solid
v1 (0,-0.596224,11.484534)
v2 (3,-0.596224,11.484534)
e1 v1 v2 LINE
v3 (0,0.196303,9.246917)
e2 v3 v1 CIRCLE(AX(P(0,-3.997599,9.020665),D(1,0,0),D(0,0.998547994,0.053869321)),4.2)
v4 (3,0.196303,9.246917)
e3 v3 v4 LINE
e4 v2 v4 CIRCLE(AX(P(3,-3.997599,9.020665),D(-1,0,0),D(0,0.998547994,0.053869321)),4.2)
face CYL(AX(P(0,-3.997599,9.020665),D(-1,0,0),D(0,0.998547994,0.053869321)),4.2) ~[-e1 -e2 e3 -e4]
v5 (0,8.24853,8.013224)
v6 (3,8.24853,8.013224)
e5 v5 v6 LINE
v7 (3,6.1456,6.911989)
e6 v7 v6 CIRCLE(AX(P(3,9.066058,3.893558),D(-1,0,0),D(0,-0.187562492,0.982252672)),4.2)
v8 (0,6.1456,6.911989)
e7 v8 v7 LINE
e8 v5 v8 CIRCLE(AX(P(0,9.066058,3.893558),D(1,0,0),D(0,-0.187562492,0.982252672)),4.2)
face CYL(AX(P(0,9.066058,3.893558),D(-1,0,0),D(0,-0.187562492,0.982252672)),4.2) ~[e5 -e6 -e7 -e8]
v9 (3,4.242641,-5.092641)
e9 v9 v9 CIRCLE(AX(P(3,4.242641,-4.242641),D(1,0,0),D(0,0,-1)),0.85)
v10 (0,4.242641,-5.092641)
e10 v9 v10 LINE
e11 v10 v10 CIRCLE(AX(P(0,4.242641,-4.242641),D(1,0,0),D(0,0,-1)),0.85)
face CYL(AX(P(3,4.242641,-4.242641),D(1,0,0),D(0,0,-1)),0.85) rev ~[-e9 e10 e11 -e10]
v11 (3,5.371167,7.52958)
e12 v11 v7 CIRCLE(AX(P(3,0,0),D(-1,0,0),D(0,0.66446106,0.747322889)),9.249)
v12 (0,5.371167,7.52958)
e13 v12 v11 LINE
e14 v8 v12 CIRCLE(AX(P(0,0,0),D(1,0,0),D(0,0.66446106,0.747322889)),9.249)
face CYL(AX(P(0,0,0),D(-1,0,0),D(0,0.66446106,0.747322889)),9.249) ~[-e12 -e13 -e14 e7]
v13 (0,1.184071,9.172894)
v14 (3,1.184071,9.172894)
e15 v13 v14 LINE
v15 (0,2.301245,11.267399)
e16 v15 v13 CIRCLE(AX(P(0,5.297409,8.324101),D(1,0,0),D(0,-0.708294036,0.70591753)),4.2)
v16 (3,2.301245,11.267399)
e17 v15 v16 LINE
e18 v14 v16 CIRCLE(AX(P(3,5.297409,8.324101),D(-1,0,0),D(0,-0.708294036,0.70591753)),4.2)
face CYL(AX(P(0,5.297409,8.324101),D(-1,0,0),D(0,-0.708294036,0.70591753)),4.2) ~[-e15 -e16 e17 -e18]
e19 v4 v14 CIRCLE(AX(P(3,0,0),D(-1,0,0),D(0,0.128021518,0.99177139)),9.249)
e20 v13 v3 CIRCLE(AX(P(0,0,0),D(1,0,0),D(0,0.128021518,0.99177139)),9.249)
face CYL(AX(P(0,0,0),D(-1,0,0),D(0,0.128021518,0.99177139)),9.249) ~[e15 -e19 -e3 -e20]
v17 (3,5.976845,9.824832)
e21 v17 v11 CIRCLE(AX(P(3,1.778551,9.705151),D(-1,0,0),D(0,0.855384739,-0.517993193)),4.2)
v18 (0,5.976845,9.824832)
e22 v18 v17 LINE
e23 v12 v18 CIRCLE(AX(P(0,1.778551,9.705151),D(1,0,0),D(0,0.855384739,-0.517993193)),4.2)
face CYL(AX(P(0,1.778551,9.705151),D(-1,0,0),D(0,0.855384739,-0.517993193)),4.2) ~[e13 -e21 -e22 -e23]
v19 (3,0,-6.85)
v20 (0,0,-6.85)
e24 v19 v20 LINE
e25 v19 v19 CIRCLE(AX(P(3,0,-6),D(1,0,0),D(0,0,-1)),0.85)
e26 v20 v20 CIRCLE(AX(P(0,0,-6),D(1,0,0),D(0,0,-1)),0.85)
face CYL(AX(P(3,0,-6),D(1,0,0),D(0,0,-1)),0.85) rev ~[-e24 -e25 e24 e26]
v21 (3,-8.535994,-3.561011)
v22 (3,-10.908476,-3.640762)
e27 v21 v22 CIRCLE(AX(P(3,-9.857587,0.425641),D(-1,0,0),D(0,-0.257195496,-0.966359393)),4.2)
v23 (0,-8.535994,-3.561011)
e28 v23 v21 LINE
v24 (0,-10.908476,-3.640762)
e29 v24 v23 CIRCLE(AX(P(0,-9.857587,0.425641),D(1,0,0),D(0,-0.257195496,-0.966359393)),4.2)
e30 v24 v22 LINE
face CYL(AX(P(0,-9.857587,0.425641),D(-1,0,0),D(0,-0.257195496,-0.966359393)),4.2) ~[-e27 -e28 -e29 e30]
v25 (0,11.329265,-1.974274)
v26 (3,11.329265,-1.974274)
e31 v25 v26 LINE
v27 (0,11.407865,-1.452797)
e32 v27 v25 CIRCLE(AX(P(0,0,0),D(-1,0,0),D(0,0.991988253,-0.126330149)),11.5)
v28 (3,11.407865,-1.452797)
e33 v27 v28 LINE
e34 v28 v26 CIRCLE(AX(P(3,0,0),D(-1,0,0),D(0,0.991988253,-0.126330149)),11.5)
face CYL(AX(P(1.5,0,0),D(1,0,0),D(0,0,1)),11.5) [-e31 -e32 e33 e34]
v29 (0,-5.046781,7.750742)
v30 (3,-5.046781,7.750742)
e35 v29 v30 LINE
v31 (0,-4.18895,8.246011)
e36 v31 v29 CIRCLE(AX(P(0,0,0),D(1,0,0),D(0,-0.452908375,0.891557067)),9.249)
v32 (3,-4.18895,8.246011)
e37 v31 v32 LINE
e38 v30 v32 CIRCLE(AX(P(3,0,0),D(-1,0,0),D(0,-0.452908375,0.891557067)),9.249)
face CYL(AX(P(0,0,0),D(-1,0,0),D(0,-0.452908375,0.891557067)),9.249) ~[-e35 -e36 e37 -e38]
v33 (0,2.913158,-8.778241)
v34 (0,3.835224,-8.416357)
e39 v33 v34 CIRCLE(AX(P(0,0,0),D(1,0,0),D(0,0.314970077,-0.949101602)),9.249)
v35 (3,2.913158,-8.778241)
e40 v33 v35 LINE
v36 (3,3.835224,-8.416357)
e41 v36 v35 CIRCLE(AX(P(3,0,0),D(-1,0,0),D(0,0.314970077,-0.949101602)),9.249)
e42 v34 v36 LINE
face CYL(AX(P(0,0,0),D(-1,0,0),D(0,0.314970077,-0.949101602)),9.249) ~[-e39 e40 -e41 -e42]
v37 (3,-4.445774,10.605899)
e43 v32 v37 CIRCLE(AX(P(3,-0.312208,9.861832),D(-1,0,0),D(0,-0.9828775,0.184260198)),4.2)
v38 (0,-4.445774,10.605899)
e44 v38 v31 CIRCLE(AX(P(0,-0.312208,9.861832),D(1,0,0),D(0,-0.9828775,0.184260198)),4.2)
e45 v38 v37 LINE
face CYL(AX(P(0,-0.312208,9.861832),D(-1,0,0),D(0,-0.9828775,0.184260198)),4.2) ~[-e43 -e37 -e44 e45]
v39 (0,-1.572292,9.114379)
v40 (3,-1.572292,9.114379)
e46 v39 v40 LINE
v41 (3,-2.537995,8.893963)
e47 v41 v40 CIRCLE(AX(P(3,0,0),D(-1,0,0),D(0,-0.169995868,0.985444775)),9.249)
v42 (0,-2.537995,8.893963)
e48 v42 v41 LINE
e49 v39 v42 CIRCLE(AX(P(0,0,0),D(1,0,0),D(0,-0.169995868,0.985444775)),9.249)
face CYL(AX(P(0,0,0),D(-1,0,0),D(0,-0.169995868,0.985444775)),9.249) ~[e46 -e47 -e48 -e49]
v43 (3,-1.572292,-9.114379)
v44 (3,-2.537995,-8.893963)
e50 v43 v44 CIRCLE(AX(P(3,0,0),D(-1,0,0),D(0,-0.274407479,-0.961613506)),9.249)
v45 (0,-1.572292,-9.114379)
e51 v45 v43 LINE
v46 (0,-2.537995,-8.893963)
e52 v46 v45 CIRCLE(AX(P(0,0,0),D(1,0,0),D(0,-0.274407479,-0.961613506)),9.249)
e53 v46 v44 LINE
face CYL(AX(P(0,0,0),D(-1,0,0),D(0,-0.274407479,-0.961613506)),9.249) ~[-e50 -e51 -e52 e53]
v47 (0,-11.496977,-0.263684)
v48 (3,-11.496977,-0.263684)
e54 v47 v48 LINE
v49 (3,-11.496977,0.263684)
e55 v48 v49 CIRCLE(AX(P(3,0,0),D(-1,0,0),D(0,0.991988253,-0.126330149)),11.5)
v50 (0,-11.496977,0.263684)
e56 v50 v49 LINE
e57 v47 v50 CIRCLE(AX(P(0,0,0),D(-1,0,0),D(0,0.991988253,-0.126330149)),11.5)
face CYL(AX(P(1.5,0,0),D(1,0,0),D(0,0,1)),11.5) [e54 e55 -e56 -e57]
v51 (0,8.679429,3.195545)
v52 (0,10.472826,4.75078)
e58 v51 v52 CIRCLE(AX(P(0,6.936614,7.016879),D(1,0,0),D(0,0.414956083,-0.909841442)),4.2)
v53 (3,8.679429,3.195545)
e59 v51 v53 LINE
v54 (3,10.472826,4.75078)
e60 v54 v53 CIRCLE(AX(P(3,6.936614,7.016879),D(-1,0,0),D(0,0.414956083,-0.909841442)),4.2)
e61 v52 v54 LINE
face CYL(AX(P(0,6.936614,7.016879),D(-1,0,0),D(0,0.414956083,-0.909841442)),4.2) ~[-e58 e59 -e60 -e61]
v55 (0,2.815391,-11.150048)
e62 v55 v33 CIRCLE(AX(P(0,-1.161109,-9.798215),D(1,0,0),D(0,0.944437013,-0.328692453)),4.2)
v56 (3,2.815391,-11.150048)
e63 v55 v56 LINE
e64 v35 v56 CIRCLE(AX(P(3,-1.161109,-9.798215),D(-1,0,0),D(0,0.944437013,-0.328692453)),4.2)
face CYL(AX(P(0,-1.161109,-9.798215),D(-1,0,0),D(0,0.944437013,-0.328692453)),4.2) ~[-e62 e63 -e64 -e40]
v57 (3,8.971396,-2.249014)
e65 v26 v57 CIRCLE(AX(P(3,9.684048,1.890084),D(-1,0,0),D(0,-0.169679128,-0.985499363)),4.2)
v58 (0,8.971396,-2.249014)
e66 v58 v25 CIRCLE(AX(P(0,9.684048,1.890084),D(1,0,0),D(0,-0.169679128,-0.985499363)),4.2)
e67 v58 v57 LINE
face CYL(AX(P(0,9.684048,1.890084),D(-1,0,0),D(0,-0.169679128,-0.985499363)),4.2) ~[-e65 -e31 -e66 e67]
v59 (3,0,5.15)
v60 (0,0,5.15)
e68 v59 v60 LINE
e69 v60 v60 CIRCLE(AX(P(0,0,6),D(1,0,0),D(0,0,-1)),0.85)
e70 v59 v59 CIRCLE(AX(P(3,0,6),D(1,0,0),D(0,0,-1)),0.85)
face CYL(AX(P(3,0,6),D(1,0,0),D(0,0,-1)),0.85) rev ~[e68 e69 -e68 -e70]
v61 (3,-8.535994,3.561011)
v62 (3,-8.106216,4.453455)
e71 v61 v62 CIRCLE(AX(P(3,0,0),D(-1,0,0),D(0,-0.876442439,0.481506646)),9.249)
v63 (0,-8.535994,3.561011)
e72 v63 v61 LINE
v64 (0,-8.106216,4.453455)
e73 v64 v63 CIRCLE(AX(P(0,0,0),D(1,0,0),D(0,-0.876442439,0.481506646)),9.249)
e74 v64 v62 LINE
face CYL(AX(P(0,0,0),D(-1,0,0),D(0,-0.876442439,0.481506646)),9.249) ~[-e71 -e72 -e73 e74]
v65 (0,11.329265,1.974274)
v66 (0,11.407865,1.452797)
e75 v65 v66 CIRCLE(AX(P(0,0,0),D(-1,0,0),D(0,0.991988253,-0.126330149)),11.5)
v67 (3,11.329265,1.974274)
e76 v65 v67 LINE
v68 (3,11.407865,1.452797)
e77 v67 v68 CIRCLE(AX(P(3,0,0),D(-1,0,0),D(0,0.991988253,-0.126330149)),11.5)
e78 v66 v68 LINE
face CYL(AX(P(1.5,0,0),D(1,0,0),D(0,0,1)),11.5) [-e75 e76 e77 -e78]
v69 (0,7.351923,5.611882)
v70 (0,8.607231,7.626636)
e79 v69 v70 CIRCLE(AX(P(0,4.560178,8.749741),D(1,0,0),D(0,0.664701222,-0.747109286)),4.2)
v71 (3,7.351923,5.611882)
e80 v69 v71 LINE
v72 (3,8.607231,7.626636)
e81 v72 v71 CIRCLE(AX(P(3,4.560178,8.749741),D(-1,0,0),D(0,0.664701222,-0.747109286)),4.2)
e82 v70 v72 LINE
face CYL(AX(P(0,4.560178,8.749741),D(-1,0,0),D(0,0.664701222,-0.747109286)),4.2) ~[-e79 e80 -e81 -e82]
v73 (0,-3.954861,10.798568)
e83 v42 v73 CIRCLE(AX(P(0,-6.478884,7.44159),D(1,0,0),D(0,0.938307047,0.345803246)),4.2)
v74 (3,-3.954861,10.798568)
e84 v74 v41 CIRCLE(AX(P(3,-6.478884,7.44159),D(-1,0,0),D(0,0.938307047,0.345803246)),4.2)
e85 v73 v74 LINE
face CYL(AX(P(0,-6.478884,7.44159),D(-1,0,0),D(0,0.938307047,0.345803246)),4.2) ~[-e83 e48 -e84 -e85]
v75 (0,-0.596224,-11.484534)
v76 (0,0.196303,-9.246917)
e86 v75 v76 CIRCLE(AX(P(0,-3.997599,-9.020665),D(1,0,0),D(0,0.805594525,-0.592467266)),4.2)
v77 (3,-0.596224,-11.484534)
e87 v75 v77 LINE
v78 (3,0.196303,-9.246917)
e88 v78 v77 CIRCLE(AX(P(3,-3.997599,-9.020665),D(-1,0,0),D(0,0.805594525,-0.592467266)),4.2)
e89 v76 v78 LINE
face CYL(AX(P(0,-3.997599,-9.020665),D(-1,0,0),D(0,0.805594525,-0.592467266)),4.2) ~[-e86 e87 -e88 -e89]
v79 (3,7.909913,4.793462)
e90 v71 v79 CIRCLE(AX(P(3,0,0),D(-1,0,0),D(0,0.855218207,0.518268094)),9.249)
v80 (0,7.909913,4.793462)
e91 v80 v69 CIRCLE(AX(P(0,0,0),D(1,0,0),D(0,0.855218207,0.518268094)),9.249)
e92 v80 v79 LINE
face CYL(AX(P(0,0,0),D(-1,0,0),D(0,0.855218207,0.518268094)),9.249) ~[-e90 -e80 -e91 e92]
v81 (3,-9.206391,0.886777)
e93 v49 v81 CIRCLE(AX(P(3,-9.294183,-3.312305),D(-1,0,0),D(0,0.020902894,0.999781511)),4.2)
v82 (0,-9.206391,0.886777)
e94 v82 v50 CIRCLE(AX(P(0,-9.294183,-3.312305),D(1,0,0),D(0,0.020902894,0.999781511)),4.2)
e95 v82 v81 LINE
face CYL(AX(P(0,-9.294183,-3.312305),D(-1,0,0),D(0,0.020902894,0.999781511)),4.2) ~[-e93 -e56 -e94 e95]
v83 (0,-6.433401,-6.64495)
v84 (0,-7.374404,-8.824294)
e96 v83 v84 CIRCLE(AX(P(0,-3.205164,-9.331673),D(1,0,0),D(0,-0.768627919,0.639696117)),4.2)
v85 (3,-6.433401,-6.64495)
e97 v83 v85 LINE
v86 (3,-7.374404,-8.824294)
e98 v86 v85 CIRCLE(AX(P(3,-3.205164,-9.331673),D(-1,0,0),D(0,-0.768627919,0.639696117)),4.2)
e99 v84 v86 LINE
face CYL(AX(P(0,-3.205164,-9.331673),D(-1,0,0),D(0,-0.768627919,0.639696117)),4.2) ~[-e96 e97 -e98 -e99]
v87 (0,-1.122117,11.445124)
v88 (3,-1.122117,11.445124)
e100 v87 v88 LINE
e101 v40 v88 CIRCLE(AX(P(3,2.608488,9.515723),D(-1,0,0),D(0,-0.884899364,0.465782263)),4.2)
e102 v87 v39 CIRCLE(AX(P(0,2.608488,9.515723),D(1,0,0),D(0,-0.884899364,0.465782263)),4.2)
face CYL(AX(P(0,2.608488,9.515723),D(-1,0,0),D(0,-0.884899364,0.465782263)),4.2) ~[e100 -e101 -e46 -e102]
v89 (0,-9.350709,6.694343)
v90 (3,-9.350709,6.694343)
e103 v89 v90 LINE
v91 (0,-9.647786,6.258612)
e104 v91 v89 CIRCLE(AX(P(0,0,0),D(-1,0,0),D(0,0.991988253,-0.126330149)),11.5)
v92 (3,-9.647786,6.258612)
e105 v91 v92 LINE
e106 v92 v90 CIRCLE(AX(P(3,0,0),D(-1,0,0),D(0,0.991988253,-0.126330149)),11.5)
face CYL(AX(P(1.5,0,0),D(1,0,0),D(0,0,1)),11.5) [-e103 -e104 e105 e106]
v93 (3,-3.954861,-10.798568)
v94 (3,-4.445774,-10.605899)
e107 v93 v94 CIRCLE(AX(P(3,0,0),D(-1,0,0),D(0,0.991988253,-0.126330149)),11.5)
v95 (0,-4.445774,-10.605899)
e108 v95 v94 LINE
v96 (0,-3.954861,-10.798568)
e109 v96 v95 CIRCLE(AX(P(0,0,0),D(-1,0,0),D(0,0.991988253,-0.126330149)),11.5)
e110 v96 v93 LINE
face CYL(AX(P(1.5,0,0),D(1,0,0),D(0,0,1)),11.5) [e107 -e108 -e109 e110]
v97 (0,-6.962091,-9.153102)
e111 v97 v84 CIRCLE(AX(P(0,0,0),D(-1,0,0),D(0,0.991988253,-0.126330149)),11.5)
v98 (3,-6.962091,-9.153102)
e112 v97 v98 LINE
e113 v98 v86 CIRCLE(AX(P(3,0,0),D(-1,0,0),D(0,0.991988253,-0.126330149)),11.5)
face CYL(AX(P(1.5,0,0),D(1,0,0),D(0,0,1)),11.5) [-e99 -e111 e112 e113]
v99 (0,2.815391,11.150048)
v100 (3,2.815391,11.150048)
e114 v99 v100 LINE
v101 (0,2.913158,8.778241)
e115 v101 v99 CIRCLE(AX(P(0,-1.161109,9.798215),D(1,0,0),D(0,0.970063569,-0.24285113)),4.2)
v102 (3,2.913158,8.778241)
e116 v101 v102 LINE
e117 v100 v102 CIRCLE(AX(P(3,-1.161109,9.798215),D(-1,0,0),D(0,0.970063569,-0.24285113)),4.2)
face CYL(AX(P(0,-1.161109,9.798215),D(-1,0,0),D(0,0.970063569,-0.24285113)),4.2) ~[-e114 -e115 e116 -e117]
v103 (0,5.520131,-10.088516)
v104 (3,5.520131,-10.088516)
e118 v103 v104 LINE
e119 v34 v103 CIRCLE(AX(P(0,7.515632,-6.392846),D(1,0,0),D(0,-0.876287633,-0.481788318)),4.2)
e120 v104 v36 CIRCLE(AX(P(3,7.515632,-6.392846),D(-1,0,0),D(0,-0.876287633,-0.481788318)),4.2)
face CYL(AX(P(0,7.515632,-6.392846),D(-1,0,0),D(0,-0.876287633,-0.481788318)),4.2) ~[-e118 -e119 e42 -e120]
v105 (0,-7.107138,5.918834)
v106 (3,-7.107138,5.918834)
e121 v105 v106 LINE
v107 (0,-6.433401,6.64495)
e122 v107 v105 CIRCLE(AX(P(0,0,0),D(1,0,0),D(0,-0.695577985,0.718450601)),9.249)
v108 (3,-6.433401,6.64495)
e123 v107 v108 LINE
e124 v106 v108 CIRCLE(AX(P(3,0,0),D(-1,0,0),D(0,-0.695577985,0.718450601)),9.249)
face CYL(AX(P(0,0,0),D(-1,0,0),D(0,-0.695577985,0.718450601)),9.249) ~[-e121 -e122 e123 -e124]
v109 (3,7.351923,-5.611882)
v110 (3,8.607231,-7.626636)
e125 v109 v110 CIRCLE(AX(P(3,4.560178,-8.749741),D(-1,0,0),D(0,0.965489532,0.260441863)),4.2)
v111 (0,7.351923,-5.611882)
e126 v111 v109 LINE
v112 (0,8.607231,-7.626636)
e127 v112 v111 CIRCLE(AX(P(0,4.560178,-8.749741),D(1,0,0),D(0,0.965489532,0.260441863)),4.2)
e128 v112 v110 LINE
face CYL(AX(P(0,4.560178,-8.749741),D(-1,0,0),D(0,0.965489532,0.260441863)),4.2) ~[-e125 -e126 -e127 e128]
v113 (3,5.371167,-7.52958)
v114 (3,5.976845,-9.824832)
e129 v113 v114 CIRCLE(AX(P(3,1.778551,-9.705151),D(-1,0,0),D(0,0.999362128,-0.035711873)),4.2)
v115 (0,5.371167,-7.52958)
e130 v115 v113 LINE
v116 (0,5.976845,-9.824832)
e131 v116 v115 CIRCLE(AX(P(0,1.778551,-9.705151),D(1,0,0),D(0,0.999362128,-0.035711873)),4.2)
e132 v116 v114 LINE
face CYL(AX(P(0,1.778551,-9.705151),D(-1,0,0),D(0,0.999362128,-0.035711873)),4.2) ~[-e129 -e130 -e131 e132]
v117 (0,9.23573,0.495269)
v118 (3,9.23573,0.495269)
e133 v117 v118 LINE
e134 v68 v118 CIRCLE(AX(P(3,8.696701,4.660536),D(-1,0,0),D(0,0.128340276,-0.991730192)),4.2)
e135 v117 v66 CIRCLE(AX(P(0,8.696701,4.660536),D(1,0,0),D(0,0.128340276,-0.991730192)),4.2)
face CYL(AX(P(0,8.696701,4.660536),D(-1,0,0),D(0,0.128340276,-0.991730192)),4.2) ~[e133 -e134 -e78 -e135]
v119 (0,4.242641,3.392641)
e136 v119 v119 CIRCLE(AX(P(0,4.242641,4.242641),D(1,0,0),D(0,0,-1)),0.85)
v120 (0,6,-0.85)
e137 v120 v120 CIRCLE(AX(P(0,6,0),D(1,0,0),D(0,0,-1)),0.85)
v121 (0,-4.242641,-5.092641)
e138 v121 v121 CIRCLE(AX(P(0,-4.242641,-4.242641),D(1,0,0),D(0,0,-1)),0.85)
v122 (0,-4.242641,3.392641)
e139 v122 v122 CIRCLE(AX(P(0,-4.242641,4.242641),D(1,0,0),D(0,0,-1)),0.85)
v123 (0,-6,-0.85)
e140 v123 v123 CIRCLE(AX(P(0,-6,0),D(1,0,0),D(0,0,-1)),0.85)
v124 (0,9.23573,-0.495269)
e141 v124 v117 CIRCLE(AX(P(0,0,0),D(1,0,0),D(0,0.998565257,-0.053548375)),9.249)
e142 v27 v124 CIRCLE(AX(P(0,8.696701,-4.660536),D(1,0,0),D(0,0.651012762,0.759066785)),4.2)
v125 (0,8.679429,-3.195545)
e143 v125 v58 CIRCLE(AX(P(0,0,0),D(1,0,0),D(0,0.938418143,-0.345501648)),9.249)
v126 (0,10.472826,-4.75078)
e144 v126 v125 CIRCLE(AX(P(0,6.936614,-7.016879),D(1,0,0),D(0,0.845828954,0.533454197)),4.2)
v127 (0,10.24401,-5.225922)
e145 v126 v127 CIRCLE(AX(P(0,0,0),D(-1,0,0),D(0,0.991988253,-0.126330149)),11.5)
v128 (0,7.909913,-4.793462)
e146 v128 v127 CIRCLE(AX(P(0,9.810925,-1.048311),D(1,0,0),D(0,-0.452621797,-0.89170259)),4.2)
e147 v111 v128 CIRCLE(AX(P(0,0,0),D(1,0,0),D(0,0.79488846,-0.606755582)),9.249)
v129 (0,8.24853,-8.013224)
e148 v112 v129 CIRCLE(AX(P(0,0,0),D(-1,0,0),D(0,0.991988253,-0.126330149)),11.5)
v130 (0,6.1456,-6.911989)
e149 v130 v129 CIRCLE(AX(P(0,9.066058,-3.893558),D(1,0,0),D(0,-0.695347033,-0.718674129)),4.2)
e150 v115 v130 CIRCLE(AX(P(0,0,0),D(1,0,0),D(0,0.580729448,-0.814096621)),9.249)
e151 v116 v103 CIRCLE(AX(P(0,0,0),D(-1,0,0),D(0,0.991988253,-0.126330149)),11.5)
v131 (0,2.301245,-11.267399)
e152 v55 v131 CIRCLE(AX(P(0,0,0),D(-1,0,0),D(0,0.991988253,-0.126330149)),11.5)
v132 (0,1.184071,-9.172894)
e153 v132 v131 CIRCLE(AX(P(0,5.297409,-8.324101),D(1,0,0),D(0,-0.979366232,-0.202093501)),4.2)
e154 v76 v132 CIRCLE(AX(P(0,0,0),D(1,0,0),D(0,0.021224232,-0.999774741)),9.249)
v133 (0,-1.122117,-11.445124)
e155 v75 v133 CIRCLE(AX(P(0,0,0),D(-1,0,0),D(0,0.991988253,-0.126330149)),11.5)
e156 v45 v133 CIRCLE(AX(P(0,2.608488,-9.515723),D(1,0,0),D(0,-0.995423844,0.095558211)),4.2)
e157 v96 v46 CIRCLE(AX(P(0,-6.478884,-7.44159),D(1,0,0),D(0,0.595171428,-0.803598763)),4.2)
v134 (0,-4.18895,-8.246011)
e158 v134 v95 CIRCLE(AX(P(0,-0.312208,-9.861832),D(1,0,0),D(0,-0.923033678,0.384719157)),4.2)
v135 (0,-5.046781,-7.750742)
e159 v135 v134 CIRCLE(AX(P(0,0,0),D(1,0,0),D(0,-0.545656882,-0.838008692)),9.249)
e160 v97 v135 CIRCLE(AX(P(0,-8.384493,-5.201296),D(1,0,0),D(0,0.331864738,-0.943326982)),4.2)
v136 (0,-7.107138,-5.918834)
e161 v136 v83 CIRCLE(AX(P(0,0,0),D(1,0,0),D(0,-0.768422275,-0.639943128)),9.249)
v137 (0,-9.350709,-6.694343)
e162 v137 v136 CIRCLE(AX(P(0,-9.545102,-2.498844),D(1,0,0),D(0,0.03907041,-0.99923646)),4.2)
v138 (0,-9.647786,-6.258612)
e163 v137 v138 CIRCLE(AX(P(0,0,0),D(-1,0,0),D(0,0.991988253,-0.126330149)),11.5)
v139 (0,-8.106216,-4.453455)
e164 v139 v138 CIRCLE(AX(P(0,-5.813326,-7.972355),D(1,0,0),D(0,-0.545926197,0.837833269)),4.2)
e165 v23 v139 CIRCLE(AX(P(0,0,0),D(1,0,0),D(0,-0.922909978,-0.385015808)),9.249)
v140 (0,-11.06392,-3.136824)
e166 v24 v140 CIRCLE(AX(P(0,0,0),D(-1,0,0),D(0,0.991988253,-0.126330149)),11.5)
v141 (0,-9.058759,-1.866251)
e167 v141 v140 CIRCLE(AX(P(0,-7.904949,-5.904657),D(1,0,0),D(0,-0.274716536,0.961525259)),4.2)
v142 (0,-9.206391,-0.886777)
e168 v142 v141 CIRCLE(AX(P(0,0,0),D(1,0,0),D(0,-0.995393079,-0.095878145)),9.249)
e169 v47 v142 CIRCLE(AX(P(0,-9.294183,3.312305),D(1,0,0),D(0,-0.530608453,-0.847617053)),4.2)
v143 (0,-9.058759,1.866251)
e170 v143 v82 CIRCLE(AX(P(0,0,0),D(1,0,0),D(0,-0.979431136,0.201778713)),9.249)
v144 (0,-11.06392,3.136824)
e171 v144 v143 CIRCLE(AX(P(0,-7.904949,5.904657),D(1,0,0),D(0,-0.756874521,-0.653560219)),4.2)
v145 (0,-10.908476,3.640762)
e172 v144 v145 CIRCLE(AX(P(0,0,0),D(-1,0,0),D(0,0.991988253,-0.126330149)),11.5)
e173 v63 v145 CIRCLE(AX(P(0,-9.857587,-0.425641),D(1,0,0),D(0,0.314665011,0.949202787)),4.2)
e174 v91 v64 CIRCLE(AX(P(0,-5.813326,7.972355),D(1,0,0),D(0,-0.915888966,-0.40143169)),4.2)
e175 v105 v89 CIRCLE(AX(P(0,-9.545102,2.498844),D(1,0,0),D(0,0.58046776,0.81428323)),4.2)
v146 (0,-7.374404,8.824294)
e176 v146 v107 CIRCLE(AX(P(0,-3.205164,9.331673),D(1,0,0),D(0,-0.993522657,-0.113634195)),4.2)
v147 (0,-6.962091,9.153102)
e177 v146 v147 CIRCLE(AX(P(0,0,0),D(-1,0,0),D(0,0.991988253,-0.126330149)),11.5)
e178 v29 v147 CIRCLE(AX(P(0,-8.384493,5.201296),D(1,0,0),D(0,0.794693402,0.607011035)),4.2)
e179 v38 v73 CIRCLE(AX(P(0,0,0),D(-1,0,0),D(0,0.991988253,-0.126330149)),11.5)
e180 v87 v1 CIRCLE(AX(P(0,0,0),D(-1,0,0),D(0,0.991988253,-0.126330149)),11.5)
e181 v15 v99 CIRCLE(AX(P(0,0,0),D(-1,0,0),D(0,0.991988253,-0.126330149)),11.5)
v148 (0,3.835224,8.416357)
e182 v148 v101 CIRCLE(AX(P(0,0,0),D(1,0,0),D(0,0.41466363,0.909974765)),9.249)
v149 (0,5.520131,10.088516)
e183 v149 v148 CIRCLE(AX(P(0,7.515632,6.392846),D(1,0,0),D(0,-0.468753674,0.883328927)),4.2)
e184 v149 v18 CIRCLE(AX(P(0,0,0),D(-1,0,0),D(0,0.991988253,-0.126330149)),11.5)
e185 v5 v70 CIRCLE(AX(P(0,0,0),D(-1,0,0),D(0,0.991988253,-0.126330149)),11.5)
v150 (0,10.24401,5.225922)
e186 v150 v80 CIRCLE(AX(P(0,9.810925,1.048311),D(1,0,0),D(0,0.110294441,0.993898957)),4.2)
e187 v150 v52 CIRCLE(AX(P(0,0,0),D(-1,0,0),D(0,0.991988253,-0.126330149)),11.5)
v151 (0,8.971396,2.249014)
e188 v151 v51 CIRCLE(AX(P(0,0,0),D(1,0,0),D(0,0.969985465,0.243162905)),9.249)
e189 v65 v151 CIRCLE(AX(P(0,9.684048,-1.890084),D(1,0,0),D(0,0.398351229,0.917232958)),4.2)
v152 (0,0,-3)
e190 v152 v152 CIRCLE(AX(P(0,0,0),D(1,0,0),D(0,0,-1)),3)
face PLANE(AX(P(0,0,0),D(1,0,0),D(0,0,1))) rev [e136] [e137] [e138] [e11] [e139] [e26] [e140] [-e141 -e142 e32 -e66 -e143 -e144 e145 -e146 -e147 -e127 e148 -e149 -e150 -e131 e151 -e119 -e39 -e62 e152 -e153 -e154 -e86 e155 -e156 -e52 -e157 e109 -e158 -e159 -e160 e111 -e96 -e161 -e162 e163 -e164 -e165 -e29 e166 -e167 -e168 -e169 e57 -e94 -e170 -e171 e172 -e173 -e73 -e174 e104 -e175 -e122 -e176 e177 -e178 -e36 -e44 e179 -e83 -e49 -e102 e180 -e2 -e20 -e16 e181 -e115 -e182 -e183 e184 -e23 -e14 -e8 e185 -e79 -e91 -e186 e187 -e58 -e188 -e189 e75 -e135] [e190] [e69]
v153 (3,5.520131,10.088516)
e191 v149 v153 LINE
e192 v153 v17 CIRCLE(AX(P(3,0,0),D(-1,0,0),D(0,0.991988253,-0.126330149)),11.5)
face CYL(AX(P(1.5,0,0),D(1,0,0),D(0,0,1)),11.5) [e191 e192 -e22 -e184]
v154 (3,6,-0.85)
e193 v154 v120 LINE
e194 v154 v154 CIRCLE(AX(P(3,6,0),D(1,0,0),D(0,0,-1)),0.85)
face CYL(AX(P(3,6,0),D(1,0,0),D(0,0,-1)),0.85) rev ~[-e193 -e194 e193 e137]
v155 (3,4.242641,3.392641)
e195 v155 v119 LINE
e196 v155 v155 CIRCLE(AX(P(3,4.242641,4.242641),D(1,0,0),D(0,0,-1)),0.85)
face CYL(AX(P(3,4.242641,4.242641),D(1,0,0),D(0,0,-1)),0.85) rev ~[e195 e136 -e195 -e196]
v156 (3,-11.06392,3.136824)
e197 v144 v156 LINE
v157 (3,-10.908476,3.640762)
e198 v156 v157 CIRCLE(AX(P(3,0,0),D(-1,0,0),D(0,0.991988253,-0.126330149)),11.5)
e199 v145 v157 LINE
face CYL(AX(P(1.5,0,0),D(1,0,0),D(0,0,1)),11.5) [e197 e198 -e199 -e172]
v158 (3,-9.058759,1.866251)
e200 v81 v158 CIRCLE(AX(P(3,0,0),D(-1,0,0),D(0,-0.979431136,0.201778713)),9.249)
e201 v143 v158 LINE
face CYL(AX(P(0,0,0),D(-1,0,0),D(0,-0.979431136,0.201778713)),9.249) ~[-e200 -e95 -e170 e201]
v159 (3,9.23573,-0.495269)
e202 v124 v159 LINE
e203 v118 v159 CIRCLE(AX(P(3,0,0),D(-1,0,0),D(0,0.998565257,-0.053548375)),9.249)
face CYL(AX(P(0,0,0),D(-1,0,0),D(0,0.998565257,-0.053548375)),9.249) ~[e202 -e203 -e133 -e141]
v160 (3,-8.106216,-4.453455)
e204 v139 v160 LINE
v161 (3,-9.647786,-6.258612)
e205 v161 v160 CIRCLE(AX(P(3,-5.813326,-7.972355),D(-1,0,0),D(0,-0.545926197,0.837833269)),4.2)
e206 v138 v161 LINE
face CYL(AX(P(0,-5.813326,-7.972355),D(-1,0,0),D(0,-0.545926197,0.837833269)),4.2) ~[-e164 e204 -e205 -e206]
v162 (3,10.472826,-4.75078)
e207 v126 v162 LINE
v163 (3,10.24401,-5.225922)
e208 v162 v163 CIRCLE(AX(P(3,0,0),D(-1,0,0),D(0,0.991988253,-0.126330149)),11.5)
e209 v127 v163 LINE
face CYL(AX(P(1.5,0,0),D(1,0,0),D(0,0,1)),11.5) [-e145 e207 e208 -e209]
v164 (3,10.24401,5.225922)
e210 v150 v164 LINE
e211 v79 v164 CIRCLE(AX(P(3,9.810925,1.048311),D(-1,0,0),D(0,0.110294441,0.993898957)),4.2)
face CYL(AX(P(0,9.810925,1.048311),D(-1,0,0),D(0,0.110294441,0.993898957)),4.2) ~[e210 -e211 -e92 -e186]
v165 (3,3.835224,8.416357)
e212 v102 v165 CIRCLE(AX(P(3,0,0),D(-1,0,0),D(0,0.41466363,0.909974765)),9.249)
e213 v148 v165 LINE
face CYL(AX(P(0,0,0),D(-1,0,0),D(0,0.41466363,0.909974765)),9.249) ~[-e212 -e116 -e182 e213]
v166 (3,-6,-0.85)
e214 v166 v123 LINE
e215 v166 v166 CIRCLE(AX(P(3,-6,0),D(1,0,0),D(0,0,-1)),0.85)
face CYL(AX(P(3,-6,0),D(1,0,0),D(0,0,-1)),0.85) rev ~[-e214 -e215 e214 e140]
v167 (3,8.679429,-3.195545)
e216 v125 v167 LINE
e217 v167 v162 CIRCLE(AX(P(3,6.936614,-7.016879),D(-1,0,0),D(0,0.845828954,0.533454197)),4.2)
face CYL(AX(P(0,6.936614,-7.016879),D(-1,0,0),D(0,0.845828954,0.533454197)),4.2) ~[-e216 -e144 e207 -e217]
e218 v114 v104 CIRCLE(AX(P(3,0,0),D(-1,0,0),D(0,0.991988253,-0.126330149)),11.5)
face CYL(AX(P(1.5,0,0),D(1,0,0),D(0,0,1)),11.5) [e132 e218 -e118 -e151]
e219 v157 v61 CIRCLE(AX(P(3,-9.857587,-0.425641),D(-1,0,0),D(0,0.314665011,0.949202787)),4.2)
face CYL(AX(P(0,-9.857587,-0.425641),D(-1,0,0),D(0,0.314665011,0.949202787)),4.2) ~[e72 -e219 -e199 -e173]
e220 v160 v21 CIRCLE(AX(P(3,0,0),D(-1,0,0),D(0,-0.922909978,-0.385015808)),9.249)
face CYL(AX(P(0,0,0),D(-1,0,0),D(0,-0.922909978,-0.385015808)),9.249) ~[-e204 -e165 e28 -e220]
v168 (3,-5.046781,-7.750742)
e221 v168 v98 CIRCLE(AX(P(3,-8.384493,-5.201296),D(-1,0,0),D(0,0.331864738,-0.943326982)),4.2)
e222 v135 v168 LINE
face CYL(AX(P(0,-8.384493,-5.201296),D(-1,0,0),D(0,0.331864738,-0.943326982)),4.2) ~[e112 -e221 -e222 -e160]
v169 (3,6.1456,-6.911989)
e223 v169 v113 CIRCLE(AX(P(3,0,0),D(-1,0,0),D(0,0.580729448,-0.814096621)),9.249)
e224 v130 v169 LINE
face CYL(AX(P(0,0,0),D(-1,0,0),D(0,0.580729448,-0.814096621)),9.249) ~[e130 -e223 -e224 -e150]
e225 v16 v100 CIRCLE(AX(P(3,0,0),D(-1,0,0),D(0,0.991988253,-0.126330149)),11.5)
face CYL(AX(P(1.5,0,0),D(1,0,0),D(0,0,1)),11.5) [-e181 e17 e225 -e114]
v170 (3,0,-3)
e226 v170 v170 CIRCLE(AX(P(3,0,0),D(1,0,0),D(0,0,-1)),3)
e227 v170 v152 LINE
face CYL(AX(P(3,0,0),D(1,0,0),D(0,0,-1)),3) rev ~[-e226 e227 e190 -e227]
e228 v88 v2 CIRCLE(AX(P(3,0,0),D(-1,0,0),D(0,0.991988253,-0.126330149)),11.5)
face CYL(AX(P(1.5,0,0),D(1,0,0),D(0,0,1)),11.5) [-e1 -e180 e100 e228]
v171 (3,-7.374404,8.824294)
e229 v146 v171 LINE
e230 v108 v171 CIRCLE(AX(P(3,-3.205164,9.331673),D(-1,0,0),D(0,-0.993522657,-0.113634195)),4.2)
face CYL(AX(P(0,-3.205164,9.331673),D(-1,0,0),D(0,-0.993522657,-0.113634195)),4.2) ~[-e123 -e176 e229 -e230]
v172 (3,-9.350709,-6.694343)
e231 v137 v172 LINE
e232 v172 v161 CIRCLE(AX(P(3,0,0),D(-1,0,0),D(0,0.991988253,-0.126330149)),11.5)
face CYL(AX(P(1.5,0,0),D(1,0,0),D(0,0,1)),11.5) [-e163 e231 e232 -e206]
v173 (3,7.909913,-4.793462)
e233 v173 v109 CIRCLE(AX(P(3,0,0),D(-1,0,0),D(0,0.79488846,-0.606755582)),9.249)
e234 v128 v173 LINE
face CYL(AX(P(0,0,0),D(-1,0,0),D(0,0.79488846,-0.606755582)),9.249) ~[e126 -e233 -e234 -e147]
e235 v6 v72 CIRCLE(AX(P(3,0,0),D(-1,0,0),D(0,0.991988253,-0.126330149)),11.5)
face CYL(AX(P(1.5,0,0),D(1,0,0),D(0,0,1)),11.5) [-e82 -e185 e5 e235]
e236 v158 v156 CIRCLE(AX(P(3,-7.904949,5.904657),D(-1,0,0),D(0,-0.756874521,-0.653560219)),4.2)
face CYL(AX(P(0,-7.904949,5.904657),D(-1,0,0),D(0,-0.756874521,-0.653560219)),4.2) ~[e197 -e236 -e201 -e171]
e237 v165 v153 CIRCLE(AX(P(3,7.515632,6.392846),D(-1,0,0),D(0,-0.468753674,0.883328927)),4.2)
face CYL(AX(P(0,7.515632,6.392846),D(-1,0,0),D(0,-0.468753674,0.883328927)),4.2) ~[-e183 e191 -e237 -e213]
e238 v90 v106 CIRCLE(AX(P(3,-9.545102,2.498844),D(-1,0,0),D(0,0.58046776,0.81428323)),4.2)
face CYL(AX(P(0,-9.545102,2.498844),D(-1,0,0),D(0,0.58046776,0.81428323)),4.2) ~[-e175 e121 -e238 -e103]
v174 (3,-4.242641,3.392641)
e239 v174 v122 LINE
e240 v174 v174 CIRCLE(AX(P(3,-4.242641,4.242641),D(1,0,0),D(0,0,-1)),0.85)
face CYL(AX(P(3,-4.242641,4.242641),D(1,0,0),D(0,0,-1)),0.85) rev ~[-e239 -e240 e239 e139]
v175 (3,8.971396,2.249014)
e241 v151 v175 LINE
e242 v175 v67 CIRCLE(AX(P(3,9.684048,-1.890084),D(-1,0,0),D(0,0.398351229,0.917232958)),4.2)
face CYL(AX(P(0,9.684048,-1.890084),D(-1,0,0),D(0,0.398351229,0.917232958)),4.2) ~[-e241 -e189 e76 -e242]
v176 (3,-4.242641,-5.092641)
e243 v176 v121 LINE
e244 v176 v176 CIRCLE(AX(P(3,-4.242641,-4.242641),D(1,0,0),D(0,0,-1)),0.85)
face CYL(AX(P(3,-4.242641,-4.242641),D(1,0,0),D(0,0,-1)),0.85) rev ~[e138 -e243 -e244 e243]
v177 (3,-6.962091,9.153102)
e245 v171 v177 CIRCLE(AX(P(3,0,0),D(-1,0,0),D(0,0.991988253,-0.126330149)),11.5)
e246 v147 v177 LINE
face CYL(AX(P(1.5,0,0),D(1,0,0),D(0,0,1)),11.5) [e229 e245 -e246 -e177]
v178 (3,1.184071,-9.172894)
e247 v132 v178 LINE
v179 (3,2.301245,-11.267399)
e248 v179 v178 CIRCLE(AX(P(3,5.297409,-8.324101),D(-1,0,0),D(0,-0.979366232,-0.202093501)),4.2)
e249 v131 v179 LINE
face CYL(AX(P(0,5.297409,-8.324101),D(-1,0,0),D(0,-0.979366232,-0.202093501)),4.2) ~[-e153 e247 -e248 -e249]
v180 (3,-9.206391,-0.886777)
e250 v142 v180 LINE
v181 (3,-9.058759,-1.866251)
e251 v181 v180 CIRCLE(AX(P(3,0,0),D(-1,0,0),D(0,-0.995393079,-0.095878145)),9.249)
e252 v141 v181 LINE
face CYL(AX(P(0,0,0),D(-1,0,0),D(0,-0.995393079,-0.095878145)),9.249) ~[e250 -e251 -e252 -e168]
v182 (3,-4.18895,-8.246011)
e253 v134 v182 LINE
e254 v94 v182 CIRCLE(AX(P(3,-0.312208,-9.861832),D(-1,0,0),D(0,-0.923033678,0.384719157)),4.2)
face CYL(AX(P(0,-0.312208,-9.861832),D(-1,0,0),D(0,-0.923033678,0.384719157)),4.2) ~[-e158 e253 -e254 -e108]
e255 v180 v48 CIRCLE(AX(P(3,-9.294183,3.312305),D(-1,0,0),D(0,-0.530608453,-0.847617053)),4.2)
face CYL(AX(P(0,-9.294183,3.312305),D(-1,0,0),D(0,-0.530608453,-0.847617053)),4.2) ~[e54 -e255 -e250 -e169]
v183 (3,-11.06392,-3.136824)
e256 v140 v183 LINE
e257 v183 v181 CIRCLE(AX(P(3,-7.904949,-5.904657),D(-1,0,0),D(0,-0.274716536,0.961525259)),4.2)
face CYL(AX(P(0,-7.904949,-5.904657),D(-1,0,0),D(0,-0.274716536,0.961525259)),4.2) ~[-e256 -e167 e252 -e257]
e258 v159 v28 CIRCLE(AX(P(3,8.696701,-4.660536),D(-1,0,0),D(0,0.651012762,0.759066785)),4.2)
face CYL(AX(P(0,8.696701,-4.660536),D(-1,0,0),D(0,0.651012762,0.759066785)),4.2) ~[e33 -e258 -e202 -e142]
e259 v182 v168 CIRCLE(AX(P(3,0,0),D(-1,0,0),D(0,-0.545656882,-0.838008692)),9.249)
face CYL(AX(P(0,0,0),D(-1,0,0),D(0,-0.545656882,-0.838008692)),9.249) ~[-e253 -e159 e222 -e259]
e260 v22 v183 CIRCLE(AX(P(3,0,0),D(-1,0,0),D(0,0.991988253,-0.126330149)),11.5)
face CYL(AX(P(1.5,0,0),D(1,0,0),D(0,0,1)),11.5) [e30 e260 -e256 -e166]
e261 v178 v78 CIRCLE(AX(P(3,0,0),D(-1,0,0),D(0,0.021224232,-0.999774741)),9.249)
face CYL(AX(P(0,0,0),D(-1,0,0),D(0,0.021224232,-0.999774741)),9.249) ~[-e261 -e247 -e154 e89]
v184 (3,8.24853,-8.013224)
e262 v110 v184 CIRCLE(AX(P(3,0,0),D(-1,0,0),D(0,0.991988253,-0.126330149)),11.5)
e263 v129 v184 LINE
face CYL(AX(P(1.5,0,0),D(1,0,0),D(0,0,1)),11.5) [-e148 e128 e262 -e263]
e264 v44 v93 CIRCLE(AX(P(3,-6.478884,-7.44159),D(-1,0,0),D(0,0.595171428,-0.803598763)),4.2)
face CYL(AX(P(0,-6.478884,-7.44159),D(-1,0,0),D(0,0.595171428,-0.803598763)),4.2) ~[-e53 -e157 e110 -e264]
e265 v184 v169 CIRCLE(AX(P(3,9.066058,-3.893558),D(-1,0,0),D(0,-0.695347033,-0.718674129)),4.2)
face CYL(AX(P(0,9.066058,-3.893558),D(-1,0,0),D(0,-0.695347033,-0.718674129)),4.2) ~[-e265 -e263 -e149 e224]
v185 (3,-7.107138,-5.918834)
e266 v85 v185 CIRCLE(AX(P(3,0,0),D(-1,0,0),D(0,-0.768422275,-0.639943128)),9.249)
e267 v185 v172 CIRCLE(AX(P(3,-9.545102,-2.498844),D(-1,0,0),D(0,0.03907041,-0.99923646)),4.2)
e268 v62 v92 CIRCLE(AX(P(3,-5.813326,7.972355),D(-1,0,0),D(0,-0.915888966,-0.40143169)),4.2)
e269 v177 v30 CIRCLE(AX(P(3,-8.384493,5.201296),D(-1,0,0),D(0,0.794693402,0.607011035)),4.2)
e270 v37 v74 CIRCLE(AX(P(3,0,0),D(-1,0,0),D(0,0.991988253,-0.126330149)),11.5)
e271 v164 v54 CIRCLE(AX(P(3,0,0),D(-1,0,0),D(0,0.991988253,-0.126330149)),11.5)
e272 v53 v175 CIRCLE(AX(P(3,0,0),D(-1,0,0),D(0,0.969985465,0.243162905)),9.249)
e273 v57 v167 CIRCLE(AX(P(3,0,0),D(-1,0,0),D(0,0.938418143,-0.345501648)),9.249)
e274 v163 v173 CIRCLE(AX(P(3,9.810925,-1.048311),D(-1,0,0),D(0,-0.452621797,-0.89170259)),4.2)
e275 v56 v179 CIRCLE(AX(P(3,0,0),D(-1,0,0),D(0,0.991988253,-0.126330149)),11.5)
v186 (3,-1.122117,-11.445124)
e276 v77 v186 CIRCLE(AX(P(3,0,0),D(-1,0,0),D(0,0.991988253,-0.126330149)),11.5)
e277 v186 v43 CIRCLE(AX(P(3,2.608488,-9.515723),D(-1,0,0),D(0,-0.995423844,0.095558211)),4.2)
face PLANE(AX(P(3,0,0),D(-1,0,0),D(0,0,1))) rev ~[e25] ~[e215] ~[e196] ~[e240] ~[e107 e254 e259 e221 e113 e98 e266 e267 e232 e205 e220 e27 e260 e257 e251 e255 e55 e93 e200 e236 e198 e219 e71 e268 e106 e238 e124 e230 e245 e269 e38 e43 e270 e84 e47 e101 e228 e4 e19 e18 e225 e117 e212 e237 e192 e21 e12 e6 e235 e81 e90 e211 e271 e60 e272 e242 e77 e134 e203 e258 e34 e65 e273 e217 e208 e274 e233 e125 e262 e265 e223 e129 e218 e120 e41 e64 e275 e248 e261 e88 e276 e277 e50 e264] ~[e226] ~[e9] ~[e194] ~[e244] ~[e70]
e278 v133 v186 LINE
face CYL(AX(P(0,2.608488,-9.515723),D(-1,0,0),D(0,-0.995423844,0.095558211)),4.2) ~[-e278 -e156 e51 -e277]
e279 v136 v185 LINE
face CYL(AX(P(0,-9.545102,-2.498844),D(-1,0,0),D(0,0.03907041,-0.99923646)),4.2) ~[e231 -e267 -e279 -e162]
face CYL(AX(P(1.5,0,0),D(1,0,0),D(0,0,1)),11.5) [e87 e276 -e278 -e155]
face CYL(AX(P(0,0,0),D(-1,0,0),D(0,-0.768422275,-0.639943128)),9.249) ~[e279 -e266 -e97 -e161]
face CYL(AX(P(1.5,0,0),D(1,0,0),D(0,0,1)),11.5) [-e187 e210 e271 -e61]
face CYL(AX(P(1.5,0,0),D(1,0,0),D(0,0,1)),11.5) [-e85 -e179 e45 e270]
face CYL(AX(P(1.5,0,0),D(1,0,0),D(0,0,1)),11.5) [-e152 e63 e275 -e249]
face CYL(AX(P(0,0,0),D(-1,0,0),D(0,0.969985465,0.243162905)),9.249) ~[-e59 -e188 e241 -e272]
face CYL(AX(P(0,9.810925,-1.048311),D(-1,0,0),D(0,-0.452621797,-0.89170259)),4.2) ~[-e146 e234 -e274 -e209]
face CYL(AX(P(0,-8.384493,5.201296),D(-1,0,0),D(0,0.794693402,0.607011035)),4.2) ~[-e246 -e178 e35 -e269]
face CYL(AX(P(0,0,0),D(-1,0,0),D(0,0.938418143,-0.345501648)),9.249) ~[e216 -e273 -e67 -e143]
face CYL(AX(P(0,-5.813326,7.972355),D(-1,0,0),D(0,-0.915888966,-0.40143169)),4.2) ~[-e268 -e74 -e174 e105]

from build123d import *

# Parameters (mm, degrees)
BASPROSKE_W         = 3
BASPROSKE_H         = 11.5
TOOTHCUT_DEPTH      = 17.537835409
TEETHCUTS_COUNT     = 21
TEETHCUTS_ANGLE     = 342.857142857
BORSKE_R            = 4
BORE_DEPTH          = 50.0000508
EXTRUDE_START       = -3
SKETCH_1_R          = 4
EXTRUDE_1_DEPTH     = 3
SKETCH_2_R          = 3
SKETCH_2_R_2        = 0.85
CUT_EXTRUDE_1_DEPTH = 17.52708436


with BuildPart() as part:
    # BasProSke → Base-Revolve (revolve)
    with BuildSketch(Plane(origin=(0, 0, 0), x_dir=(1, 0, 0), z_dir=(0, 1, 0)), mode=Mode.PRIVATE) as base_revolve_sk:
        with Locations((1.5, 5.75)):
            Rectangle(BASPROSKE_W, BASPROSKE_H)
    revolve(base_revolve_sk.sketch.rotate(Axis((-10, 0, 0), (1, 0, 0)), 180), axis=Axis((-10, 0, 0), (1, 0, 0)))

    # TooCutSke → ToothCut (cut, through all)
    with BuildSketch(Plane(origin=(0, 0, 0), x_dir=(0, 0, -1), z_dir=(1, 0, 0))):
        with BuildLine():
            ThreePointArc((0.49526894, 9.235730057), (0, 9.249), (-0.49526894, 9.235730057))
            ThreePointArc((-0.49526894, 9.235730057), (-0.823521057, 10.404716786), (-1.472455249, 11.430954496))
            ThreePointArc((-1.472455249, 11.430954496), (0, 11.5254), (1.472455249, 11.430954496))
            ThreePointArc((1.472455249, 11.430954496), (0.823521057, 10.404716786), (0.49526894, 9.235730057))
        make_face()
    toothcut = extrude(amount=TOOTHCUT_DEPTH, mode=Mode.SUBTRACT)

    # TeethCuts: ToothCut ×21 about axis
    teethcuts_axis = Axis((-10, 0, 0), (1, 0, 0))
    for i in range(1, TEETHCUTS_COUNT):
        add(toothcut.rotate(teethcuts_axis, i * TEETHCUTS_ANGLE / (TEETHCUTS_COUNT - 1)), mode=Mode.SUBTRACT)

    # BorSke → Bore (cut, symmetric)
    with BuildSketch(Plane(origin=(0, 0, 0), x_dir=(0, 0, -1), z_dir=(1, 0, 0))):
        with Locations(Location((0, 0, 0), (0, 0, 180))):
            Circle(BORSKE_R)
    extrude(amount=BORE_DEPTH, both=True, mode=Mode.SUBTRACT)

    # ｽｹｯﾁ1 → ﾎﾞｽ - 押し出し1 (add)
    with BuildSketch(Plane.ZY.offset(EXTRUDE_START)):
        Circle(SKETCH_1_R)
    extrude(amount=EXTRUDE_1_DEPTH)

    # ｽｹｯﾁ2 → ｶｯﾄ - 押し出し1 (cut, through all)
    with BuildSketch(Plane(origin=(3, 0, 0), x_dir=(0, 0, -1), z_dir=(1, 0, 0))):
        Circle(SKETCH_2_R)
        with Locations((0, 6)):
            Circle(SKETCH_2_R_2)
        with Locations((4.242640687, 4.242640687)):
            Circle(SKETCH_2_R_2)
        with Locations((6, 0)):
            Circle(SKETCH_2_R_2)
        with Locations((4.242640687, -4.242640687)):
            Circle(SKETCH_2_R_2)
        with Locations((0, -6)):
            Circle(SKETCH_2_R_2)
        with Locations((-4.242640687, -4.242640687)):
            Circle(SKETCH_2_R_2)
        with Locations((-6, 0)):
            Circle(SKETCH_2_R_2)
        with Locations((-4.242640687, 4.242640687)):
            Circle(SKETCH_2_R_2)
    extrude(amount=-CUT_EXTRUDE_1_DEPTH, mode=Mode.SUBTRACT)


solid = part.part
